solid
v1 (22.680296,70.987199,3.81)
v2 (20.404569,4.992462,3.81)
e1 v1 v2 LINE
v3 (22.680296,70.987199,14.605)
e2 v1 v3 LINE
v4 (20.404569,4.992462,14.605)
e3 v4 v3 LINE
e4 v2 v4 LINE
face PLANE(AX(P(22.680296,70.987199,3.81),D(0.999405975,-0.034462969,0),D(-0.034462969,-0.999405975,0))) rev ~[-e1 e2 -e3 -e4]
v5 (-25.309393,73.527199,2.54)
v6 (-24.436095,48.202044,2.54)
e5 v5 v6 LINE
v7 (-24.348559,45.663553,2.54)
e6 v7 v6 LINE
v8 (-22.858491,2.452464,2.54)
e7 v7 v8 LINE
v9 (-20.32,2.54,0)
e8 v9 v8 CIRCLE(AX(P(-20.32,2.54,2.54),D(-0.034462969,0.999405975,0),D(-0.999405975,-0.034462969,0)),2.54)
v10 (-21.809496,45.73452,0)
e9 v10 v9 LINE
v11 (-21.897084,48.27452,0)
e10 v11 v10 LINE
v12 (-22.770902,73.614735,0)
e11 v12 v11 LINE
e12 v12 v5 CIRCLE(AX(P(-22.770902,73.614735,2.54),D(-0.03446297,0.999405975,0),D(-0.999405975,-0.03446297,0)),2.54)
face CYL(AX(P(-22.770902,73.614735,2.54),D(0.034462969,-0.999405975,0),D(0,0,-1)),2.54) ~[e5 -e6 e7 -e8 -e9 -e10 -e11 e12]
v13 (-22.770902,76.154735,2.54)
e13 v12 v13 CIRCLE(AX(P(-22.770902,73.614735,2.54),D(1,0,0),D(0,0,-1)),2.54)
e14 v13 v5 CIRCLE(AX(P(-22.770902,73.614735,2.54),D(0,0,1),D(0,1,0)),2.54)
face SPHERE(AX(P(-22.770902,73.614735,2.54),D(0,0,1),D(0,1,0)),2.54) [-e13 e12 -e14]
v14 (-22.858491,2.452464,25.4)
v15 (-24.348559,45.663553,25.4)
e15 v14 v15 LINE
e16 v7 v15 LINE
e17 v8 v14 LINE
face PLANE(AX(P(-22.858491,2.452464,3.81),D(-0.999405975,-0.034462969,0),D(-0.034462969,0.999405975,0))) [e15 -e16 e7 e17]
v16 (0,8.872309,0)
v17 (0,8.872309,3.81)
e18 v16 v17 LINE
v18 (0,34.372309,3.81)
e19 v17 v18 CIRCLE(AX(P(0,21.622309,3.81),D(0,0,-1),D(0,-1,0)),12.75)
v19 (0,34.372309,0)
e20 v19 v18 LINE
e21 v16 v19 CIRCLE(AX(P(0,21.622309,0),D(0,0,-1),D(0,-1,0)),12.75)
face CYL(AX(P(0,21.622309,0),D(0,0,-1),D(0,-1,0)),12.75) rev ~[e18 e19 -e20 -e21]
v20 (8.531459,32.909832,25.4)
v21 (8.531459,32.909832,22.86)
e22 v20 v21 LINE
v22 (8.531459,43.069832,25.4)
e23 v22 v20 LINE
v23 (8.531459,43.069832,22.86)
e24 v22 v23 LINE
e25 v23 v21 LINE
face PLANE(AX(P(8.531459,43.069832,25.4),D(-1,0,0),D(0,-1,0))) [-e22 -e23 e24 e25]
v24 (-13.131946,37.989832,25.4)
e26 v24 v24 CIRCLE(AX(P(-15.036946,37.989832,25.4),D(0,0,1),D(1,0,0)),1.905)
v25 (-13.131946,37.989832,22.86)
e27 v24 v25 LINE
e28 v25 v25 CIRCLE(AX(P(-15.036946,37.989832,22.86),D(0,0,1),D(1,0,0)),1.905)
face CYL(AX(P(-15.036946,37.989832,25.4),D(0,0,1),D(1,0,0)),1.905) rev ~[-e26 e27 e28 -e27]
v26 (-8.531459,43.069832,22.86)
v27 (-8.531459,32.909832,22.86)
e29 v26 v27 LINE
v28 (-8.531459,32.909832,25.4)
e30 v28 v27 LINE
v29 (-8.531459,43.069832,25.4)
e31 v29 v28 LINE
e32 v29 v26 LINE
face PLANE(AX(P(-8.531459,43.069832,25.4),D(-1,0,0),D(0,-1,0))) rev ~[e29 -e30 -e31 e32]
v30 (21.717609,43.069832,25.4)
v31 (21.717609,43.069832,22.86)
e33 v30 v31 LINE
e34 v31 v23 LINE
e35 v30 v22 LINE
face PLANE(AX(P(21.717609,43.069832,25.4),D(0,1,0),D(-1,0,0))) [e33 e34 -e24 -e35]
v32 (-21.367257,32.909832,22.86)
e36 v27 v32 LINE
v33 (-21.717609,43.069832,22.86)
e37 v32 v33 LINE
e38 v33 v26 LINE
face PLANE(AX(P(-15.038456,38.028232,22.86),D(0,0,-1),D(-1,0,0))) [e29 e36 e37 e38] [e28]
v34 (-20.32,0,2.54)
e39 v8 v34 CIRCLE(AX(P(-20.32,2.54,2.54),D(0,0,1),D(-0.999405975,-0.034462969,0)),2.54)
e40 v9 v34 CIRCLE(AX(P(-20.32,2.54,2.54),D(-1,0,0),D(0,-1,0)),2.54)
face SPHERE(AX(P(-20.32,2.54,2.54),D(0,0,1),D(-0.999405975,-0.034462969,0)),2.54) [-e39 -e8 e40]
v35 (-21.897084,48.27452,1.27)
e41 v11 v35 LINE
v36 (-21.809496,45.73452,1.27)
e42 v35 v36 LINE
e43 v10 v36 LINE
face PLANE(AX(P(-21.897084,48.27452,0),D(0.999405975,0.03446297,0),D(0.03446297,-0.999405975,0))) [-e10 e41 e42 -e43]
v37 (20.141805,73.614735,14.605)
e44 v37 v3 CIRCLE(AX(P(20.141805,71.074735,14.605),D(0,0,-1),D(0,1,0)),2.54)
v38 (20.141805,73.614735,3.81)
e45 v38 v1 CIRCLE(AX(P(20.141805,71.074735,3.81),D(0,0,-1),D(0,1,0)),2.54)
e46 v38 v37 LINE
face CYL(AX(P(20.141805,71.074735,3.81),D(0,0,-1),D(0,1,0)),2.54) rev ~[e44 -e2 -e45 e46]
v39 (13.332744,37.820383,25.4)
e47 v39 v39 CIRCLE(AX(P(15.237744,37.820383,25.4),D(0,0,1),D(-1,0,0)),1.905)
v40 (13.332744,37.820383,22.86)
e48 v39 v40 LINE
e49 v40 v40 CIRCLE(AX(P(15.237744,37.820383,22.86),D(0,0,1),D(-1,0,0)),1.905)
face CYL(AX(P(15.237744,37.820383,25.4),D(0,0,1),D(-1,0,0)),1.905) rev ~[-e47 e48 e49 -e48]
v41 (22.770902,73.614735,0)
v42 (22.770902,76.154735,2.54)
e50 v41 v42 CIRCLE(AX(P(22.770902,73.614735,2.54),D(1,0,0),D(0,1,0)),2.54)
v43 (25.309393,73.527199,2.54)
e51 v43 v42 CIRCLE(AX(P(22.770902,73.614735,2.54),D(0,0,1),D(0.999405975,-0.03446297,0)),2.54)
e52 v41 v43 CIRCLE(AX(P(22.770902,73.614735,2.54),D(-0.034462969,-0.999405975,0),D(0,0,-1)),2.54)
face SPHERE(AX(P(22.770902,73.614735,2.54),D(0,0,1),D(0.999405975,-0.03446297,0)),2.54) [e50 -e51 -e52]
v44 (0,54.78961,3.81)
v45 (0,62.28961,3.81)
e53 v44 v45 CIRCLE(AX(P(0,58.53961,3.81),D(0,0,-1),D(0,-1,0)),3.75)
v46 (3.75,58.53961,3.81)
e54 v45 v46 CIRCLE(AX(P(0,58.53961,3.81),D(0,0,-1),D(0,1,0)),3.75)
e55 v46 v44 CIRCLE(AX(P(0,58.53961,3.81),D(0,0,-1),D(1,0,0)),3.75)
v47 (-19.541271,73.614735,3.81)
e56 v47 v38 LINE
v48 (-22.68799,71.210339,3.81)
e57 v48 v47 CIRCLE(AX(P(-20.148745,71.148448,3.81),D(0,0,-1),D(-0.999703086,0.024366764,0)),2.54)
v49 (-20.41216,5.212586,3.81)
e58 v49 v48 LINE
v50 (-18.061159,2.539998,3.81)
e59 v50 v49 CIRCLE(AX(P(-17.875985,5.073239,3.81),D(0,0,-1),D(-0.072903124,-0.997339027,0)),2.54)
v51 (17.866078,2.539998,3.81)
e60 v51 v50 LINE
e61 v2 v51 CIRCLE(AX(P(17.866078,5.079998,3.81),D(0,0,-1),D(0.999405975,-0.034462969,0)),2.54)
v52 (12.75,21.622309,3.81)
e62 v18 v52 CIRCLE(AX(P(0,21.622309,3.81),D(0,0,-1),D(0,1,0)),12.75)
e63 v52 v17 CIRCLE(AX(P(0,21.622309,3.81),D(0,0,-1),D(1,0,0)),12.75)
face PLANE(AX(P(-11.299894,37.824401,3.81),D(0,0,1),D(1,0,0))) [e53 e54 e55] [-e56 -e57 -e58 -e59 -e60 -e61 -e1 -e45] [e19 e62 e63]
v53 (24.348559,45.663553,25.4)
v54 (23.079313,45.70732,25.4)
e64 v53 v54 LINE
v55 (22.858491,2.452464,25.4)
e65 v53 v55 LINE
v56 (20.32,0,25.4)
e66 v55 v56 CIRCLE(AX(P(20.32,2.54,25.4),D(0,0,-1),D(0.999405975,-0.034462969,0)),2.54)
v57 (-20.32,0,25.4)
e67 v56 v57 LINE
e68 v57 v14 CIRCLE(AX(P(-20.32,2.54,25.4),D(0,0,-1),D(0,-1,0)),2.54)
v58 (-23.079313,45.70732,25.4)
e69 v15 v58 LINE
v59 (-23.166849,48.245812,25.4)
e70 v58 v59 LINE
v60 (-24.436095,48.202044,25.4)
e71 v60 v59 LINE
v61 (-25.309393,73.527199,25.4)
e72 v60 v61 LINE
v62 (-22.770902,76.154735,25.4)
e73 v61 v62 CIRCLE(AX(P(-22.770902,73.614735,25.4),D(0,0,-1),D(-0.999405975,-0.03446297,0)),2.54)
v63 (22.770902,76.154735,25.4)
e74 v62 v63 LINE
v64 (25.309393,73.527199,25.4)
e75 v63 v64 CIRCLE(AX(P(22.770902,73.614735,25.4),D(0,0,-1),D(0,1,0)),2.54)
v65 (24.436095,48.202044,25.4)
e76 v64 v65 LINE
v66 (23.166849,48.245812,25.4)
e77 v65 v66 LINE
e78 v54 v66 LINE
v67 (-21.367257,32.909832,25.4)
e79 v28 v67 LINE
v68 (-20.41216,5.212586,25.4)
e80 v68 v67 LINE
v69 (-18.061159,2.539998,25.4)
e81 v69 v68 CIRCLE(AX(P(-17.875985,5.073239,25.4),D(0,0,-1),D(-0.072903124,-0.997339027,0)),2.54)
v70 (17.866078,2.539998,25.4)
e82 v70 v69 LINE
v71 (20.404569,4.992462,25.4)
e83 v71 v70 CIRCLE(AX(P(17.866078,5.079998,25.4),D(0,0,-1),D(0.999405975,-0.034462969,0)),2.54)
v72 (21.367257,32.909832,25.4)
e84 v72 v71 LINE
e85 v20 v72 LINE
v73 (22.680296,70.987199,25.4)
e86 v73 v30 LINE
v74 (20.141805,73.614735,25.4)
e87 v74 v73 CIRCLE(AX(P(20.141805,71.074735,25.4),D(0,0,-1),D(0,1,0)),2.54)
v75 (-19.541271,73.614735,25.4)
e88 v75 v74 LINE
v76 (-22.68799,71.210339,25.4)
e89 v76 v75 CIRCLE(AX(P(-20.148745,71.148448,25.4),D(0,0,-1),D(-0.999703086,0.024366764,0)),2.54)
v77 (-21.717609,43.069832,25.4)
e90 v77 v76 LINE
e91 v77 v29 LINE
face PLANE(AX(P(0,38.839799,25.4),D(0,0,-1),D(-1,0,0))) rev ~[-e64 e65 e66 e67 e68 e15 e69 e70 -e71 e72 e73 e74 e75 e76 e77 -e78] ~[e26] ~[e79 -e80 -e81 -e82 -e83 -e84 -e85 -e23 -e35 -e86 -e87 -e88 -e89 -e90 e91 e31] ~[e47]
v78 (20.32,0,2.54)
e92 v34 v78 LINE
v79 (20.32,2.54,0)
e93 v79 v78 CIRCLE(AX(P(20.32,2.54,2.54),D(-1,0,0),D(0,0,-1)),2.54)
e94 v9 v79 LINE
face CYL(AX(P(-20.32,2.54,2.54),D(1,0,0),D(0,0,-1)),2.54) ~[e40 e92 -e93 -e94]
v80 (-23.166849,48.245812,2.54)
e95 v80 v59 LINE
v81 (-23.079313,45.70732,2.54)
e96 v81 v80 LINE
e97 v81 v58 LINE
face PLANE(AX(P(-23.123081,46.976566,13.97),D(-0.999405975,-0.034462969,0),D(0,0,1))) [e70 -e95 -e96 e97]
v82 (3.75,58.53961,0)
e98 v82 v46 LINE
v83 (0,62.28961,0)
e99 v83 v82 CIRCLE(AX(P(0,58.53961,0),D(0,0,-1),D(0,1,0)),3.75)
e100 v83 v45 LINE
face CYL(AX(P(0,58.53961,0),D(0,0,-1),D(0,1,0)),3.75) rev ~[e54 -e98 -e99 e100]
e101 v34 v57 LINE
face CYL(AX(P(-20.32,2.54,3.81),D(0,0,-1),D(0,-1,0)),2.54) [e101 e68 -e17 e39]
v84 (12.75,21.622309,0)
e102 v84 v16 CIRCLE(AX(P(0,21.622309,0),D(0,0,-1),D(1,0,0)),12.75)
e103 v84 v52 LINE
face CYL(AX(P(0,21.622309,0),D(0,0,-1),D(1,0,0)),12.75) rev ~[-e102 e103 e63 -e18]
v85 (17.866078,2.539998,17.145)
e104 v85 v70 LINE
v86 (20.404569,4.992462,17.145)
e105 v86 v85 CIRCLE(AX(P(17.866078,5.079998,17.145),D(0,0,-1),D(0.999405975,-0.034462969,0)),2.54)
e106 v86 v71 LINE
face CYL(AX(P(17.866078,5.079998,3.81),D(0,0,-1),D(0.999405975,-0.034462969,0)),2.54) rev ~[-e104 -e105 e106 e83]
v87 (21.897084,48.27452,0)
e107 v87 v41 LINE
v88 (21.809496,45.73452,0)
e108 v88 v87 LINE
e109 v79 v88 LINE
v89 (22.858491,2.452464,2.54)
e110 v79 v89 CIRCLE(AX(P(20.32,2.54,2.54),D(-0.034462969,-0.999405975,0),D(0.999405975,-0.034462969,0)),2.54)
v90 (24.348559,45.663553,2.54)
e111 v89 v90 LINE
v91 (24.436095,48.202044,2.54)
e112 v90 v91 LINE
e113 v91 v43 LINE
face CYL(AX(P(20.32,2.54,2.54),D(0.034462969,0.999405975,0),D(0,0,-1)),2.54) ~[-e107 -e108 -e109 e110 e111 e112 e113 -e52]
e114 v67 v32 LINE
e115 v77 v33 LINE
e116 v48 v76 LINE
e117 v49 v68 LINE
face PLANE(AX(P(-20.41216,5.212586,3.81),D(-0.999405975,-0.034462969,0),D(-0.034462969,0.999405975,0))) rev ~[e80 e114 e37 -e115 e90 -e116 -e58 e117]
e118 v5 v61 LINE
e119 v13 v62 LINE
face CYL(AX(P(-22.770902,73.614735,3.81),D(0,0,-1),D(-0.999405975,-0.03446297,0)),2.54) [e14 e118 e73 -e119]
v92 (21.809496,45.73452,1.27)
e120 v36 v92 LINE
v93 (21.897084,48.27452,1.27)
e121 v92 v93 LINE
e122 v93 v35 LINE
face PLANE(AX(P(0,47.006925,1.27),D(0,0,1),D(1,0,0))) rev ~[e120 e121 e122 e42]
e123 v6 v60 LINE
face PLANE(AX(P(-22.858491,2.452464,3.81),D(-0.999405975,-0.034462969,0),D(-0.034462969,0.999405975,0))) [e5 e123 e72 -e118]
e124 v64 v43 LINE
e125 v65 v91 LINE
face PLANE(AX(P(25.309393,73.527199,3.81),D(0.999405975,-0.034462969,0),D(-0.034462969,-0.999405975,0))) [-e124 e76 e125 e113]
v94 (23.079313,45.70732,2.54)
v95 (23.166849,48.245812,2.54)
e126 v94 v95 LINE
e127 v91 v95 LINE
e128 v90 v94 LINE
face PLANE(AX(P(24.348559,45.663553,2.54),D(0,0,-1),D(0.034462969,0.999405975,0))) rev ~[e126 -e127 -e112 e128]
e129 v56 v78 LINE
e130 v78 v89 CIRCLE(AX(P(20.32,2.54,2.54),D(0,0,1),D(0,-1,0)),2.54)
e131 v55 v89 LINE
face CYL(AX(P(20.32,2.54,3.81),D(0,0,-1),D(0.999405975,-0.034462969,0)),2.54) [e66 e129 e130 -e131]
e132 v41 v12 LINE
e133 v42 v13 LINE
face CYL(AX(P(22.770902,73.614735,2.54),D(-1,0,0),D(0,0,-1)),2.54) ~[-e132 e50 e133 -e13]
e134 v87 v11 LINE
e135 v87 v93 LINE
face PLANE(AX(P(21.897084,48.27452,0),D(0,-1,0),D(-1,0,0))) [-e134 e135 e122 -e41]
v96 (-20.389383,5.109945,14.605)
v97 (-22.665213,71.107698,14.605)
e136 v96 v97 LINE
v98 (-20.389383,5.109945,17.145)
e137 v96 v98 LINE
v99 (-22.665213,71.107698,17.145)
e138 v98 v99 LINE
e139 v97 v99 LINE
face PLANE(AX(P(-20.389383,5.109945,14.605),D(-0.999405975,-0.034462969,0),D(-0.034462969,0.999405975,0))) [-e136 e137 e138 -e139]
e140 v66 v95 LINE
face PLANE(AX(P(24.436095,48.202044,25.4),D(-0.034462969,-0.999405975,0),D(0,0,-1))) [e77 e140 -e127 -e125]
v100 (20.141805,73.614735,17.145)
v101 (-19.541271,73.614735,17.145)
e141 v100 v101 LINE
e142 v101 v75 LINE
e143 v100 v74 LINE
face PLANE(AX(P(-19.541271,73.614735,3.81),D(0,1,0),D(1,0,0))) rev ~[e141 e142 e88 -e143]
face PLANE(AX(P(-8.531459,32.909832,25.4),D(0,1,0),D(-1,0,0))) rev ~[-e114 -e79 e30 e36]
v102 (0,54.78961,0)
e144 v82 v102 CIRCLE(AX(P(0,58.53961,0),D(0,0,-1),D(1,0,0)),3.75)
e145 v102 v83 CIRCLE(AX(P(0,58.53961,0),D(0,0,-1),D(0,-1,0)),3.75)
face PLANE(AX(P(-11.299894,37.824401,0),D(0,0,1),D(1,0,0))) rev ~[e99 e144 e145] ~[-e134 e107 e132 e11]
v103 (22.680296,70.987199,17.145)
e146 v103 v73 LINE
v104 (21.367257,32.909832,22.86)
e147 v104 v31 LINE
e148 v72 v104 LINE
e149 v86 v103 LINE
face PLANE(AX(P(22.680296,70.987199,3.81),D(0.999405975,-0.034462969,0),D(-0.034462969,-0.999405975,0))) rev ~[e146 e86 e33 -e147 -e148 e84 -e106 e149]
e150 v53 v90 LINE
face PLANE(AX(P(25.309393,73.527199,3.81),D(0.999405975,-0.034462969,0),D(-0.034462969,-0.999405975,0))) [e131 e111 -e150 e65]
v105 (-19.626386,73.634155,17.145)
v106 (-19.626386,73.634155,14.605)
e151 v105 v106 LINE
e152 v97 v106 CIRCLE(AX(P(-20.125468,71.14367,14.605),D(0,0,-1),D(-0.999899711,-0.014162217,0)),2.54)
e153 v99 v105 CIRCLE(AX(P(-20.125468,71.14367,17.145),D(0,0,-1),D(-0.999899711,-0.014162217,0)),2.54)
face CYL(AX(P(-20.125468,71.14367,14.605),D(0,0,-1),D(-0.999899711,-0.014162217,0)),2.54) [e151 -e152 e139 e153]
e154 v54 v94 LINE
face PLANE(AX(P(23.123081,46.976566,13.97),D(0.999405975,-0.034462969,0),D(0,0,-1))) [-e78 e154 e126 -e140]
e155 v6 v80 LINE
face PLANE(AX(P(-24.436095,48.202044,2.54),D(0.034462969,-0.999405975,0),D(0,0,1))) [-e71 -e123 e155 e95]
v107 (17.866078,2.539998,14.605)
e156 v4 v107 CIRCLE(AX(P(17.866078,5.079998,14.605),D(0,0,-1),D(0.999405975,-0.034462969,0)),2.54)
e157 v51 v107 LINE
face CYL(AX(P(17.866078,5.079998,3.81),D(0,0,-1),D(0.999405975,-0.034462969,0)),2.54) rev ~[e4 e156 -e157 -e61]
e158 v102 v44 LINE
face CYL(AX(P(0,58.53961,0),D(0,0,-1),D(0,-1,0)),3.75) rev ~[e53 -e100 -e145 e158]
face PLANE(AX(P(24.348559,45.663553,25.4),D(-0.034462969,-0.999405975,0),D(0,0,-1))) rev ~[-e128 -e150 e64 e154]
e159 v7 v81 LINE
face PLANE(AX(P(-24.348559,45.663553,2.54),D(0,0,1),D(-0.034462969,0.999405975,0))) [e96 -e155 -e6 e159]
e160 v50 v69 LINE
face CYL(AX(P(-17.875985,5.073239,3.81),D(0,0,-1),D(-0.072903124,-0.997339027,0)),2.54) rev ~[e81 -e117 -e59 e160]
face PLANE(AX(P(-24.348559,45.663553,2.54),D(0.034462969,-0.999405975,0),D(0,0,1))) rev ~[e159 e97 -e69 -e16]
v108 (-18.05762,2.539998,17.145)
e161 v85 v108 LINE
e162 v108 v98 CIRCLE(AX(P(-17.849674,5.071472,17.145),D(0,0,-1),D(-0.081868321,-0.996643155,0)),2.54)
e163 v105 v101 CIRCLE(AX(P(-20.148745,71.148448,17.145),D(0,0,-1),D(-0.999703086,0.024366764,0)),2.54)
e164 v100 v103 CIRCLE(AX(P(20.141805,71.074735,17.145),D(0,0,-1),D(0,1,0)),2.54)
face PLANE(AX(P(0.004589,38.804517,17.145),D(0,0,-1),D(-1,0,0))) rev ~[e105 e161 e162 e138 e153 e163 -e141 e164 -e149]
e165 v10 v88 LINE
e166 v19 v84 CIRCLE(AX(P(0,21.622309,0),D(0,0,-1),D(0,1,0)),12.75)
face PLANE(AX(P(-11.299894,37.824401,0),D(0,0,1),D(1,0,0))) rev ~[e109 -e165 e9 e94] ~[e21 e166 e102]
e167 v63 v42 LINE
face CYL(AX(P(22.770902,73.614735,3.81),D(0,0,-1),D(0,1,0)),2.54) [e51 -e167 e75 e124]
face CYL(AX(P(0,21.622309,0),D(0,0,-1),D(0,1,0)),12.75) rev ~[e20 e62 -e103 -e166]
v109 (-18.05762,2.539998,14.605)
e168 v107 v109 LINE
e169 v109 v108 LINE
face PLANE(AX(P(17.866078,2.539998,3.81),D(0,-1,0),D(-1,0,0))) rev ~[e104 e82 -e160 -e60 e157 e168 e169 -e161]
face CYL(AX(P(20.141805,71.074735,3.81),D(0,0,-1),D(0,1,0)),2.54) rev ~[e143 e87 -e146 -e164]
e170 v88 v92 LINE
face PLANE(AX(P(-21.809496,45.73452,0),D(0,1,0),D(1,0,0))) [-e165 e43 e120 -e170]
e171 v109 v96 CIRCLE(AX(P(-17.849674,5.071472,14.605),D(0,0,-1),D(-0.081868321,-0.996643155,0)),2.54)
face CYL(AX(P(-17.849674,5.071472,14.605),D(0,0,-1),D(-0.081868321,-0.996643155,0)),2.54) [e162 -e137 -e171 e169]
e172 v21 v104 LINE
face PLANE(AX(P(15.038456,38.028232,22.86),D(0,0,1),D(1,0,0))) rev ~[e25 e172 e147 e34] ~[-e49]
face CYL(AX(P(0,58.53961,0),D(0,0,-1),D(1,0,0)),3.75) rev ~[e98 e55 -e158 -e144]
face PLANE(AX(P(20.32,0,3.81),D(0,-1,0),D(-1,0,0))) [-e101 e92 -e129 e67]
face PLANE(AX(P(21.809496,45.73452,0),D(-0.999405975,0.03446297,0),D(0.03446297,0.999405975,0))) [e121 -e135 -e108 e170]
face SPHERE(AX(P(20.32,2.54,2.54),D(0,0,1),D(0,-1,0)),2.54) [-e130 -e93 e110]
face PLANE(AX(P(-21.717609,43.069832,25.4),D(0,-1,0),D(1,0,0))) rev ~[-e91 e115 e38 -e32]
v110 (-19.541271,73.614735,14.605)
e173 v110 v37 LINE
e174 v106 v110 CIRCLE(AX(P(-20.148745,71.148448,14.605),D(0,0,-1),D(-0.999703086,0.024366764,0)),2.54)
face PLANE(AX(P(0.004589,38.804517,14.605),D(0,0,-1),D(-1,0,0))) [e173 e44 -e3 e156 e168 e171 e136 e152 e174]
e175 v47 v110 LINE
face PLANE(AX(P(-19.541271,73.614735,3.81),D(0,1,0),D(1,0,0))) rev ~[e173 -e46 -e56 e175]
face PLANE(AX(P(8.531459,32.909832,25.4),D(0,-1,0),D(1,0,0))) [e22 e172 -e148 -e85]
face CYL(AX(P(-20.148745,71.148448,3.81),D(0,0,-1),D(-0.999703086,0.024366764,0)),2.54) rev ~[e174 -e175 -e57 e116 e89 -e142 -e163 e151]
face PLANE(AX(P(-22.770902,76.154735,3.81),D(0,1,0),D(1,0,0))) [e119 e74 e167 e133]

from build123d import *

# Parameters (mm, degrees)
BOSS_EXTRUDE1_DEPTH = 3.81
BOSS_EXTRUDE3_DEPTH = 21.59
BOSS_EXTRUDE4_DEPTH = 2.54
FILLET1_R           = 2.54
BOSS_EXTRUDE6_DEPTH = 2.54
SKETCH9_R           = 1.905
CUT_EXTRUDE1_DEPTH  = 2.54
CUT_EXTRUDE2_DEPTH  = 1.27
SKETCH11_W          = 22.86
SKETCH11_H          = 2.54
CUT_EXTRUDE3_DEPTH  = 1.27
SKETCH12_W          = 22.86
SKETCH12_H          = 2.54
CUT_EXTRUDE4_DEPTH  = 1.27


with BuildPart() as part:
    # Sketch1 → Boss-Extrude1 (new body)
    with BuildSketch(Plane.XY):
        with BuildLine():
            Line((0, 62.289610149), (0, 73.614735329))
            Line((0, 73.614735329), (-19.541270744, 73.614735329))
            ThreePointArc((-19.541270744, 73.614735329), (-21.690891162, 73.166710129), (-22.687990425, 71.210339105))
            Line((-22.687990425, 71.210339105), (-20.412160003, 5.212586245))
            ThreePointArc((-20.412160003, 5.212586245), (-19.78310781, 3.39559701), (-18.061159176, 2.539998129))
            Line((-18.061159176, 2.539998129), (0, 2.539998129))
            Line((0, 2.539998129), (0, 8.872308918))
            ThreePointArc((0, 8.872308918), (-12.75, 21.622308918), (0, 34.372308918))
            Line((0, 34.372308918), (0, 54.789610149))
            ThreePointArc((0, 54.789610149), (-3.75, 58.539610149), (0, 62.289610149))
        make_face()
        with BuildLine():
            Line((20.141804619, 73.614735329), (0, 73.614735329))
            Line((0, 73.614735329), (0, 62.289610149))
            ThreePointArc((0, 62.289610149), (2.651650429, 61.191260578), (3.75, 58.539610149))
            ThreePointArc((3.75, 58.539610149), (2.651650429, 55.887959719), (0, 54.789610149))
            Line((0, 54.789610149), (0, 34.372308918))
            ThreePointArc((0, 34.372308918), (9.01561146, 30.637920378), (12.75, 21.622308918))
            ThreePointArc((12.75, 21.622308918), (9.01561146, 12.606697458), (0, 8.872308918))
            Line((0, 8.872308918), (0, 2.539998129))
            Line((0, 2.539998129), (17.866078187, 2.539998129))
            ThreePointArc((17.866078187, 2.539998129), (19.630909441, 3.253260423), (20.404569365, 4.992462187))
            Line((20.404569365, 4.992462187), (22.680295797, 70.987199387))
            ThreePointArc((22.680295797, 70.987199387), (21.968542325, 72.839566583), (20.141804619, 73.614735329))
        make_face()
        with BuildLine():
            Line((0, 76.154735329), (-22.77090231, 76.154735329))
            ThreePointArc((-22.77090231, 76.154735329), (-24.597640016, 75.379566583), (-25.309393487, 73.527199387))
            Line((-25.309393487, 73.527199387), (-22.858491178, 2.452464058))
            ThreePointArc((-22.858491178, 2.452464058), (-22.084831254, 0.713262294), (-20.32, 0))
            Line((-20.32, 0), (0, 0))
            Line((0, 0), (0, 2.539998129))
            Line((0, 2.539998129), (-18.061159176, 2.539998129))
            ThreePointArc((-18.061159176, 2.539998129), (-19.78310781, 3.39559701), (-20.412160003, 5.212586245))
            Line((-20.412160003, 5.212586245), (-22.687990425, 71.210339105))
            ThreePointArc((-22.687990425, 71.210339105), (-21.690891162, 73.166710129), (-19.541270744, 73.614735329))
            Line((-19.541270744, 73.614735329), (0, 73.614735329))
            Line((0, 73.614735329), (0, 76.154735329))
        make_face()
        with BuildLine():
            Line((22.77090231, 76.154735329), (0, 76.154735329))
            Line((0, 76.154735329), (0, 73.614735329))
            Line((0, 73.614735329), (20.141804619, 73.614735329))
            ThreePointArc((20.141804619, 73.614735329), (21.968542325, 72.839566583), (22.680295797, 70.987199387))
            Line((22.680295797, 70.987199387), (20.404569365, 4.992462187))
            ThreePointArc((20.404569365, 4.992462187), (19.630909441, 3.253260423), (17.866078187, 2.539998129))
            Line((17.866078187, 2.539998129), (0, 2.539998129))
            Line((0, 2.539998129), (0, 0))
            Line((0, 0), (20.32, 0))
            ThreePointArc((20.32, 0), (22.084831254, 0.713262294), (22.858491178, 2.452464058))
            Line((22.858491178, 2.452464058), (25.309393487, 73.527199387))
            ThreePointArc((25.309393487, 73.527199387), (24.597640016, 75.379566583), (22.77090231, 76.154735329))
        make_face()
    extrude(amount=BOSS_EXTRUDE1_DEPTH)

    # Sketch4 → Boss-Extrude3 (add)
    with BuildSketch(Plane.XY.offset(3.81)):
        with BuildLine():
            Line((-22.77090231, 76.154735329), (22.77090231, 76.154735329))
            ThreePointArc((22.77090231, 76.154735329), (24.597640016, 75.379566583), (25.309393487, 73.527199387))
            Line((25.309393487, 73.527199387), (22.858491178, 2.452464058))
            ThreePointArc((22.858491178, 2.452464058), (22.084831254, 0.713262294), (20.32, 0))
            Line((20.32, 0), (-20.32, 0))
            ThreePointArc((-20.32, 0), (-22.084831254, 0.713262294), (-22.858491178, 2.452464058))
            Line((-22.858491178, 2.452464058), (-25.309393487, 73.527199387))
            ThreePointArc((-25.309393487, 73.527199387), (-24.597640016, 75.379566583), (-22.77090231, 76.154735329))
        make_face()
        with BuildLine():
            Line((-19.541270744, 73.614735329), (20.141804619, 73.614735329))
            ThreePointArc((20.141804619, 73.614735329), (21.968542325, 72.839566583), (22.680295797, 70.987199387))
            Line((22.680295797, 70.987199387), (20.404569365, 4.992462187))
            ThreePointArc((20.404569365, 4.992462187), (19.630909441, 3.253260423), (17.866078187, 2.539998129))
            Line((17.866078187, 2.539998129), (-18.061159176, 2.539998129))
            ThreePointArc((-18.061159176, 2.539998129), (-19.78310781, 3.39559701), (-20.412160003, 5.212586245))
            Line((-20.412160003, 5.212586245), (-22.687990425, 71.210339105))
            ThreePointArc((-22.687990425, 71.210339105), (-21.690891162, 73.166710129), (-19.541270744, 73.614735329))
        make_face(mode=Mode.SUBTRACT)
    extrude(amount=BOSS_EXTRUDE3_DEPTH)

    # Sketch7 → Boss-Extrude4 (add)
    with BuildSketch(Plane.XY.offset(14.605)):
        with BuildLine():
            Line((-19.537731311, 73.614735329), (20.145344052, 73.614735329))
            ThreePointArc((20.145344052, 73.614735329), (21.972081758, 72.839566583), (22.68383523, 70.987199387))
            Line((22.68383523, 70.987199387), (20.408108798, 4.992462187))
            ThreePointArc((20.408108798, 4.992462187), (19.634448874, 3.253260423), (17.86961762, 2.539998129))
            Line((17.86961762, 2.539998129), (-18.057619743, 2.539998129))
            ThreePointArc((-18.057619743, 2.539998129), (-19.730779532, 3.364707915), (-20.389382819, 5.109944754))
            Line((-20.389382819, 5.109944754), (-22.665213241, 71.107697614))
            ThreePointArc((-22.665213241, 71.107697614), (-21.714144758, 73.125513756), (-19.537731311, 73.614735329))
        make_face()
    extrude(amount=BOSS_EXTRUDE4_DEPTH)

    # Fillet1
    fillet1_edges = [part.edges().sort_by_distance(p)[0] for p in [
        (-22.084831254, 0.713262294, 0),
        (-24.083942332, 37.989831723, 0),
        (-24.597640016, 75.379566583, 0),
        (0, 76.154735329, 0),
        (24.597640016, 75.379566583, 0),
        (24.083942332, 37.989831723, 0),
        (22.084831254, 0.713262294, 0),
        (0, 0, 0),
    ]]
    fillet(fillet1_edges, radius=FILLET1_R)

    # Sketch8 → Boss-Extrude6 (add)
    with BuildSketch(Plane.XY.offset(25.4)):
        Polygon((-21.717608556, 43.069831723), (-8.531459132, 43.069831723), (-8.531459132, 32.909831723), (-21.367256671, 32.909831723), align=None)
        Polygon((8.531459132, 32.909831723), (21.367256671, 32.909831723), (21.717608556, 43.069831723), (8.531459132, 43.069831723), align=None)
    extrude(amount=-BOSS_EXTRUDE6_DEPTH)

    # Sketch9 → Cut-Extrude1 (cut)
    with BuildSketch(Plane.XY.offset(25.4)):
        with Locations((-15.036945873, 37.989831723)):
            Circle(SKETCH9_R)
        with Locations(Location((15.237744036, 37.820383377, 0), (0, 0, 180))):
            Circle(SKETCH9_R)
    extrude(amount=-CUT_EXTRUDE1_DEPTH, mode=Mode.SUBTRACT)

    # Sketch10 → Cut-Extrude2 (cut)
    with BuildSketch(Plane(origin=(0, 0, 0), x_dir=(-1, 0, 0), z_dir=(0, 0, -1))):
        Polygon((-21.897084176, 48.274519863), (21.897084176, 48.274519863), (21.809496204, 45.734519863), (-21.809496204, 45.734519863), align=None)
    extrude(amount=-CUT_EXTRUDE2_DEPTH, mode=Mode.SUBTRACT)

    # Sketch11 → Cut-Extrude3 (cut)
    with BuildSketch(Plane(origin=(-22.746873247, -0.784390739, 0), x_dir=(0, 0, 1), z_dir=(-0.9994059754448638, -0.03446296918579016, 0))):
        with Locations((13.97, 47.745550873)):
            Rectangle(SKETCH11_W, SKETCH11_H)
    extrude(amount=-CUT_EXTRUDE3_DEPTH, mode=Mode.SUBTRACT)

    # Sketch12 → Cut-Extrude4 (cut)
    with BuildSketch(Plane(origin=(22.746873247, -0.784390739, 0), x_dir=(0, 0, -1), z_dir=(0.9994059754448638, -0.034462969185789866, 0))):
        with Locations((-13.97, 47.745550873)):
            Rectangle(SKETCH12_W, SKETCH12_H)
    extrude(amount=-CUT_EXTRUDE4_DEPTH, mode=Mode.SUBTRACT)


solid = part.part
